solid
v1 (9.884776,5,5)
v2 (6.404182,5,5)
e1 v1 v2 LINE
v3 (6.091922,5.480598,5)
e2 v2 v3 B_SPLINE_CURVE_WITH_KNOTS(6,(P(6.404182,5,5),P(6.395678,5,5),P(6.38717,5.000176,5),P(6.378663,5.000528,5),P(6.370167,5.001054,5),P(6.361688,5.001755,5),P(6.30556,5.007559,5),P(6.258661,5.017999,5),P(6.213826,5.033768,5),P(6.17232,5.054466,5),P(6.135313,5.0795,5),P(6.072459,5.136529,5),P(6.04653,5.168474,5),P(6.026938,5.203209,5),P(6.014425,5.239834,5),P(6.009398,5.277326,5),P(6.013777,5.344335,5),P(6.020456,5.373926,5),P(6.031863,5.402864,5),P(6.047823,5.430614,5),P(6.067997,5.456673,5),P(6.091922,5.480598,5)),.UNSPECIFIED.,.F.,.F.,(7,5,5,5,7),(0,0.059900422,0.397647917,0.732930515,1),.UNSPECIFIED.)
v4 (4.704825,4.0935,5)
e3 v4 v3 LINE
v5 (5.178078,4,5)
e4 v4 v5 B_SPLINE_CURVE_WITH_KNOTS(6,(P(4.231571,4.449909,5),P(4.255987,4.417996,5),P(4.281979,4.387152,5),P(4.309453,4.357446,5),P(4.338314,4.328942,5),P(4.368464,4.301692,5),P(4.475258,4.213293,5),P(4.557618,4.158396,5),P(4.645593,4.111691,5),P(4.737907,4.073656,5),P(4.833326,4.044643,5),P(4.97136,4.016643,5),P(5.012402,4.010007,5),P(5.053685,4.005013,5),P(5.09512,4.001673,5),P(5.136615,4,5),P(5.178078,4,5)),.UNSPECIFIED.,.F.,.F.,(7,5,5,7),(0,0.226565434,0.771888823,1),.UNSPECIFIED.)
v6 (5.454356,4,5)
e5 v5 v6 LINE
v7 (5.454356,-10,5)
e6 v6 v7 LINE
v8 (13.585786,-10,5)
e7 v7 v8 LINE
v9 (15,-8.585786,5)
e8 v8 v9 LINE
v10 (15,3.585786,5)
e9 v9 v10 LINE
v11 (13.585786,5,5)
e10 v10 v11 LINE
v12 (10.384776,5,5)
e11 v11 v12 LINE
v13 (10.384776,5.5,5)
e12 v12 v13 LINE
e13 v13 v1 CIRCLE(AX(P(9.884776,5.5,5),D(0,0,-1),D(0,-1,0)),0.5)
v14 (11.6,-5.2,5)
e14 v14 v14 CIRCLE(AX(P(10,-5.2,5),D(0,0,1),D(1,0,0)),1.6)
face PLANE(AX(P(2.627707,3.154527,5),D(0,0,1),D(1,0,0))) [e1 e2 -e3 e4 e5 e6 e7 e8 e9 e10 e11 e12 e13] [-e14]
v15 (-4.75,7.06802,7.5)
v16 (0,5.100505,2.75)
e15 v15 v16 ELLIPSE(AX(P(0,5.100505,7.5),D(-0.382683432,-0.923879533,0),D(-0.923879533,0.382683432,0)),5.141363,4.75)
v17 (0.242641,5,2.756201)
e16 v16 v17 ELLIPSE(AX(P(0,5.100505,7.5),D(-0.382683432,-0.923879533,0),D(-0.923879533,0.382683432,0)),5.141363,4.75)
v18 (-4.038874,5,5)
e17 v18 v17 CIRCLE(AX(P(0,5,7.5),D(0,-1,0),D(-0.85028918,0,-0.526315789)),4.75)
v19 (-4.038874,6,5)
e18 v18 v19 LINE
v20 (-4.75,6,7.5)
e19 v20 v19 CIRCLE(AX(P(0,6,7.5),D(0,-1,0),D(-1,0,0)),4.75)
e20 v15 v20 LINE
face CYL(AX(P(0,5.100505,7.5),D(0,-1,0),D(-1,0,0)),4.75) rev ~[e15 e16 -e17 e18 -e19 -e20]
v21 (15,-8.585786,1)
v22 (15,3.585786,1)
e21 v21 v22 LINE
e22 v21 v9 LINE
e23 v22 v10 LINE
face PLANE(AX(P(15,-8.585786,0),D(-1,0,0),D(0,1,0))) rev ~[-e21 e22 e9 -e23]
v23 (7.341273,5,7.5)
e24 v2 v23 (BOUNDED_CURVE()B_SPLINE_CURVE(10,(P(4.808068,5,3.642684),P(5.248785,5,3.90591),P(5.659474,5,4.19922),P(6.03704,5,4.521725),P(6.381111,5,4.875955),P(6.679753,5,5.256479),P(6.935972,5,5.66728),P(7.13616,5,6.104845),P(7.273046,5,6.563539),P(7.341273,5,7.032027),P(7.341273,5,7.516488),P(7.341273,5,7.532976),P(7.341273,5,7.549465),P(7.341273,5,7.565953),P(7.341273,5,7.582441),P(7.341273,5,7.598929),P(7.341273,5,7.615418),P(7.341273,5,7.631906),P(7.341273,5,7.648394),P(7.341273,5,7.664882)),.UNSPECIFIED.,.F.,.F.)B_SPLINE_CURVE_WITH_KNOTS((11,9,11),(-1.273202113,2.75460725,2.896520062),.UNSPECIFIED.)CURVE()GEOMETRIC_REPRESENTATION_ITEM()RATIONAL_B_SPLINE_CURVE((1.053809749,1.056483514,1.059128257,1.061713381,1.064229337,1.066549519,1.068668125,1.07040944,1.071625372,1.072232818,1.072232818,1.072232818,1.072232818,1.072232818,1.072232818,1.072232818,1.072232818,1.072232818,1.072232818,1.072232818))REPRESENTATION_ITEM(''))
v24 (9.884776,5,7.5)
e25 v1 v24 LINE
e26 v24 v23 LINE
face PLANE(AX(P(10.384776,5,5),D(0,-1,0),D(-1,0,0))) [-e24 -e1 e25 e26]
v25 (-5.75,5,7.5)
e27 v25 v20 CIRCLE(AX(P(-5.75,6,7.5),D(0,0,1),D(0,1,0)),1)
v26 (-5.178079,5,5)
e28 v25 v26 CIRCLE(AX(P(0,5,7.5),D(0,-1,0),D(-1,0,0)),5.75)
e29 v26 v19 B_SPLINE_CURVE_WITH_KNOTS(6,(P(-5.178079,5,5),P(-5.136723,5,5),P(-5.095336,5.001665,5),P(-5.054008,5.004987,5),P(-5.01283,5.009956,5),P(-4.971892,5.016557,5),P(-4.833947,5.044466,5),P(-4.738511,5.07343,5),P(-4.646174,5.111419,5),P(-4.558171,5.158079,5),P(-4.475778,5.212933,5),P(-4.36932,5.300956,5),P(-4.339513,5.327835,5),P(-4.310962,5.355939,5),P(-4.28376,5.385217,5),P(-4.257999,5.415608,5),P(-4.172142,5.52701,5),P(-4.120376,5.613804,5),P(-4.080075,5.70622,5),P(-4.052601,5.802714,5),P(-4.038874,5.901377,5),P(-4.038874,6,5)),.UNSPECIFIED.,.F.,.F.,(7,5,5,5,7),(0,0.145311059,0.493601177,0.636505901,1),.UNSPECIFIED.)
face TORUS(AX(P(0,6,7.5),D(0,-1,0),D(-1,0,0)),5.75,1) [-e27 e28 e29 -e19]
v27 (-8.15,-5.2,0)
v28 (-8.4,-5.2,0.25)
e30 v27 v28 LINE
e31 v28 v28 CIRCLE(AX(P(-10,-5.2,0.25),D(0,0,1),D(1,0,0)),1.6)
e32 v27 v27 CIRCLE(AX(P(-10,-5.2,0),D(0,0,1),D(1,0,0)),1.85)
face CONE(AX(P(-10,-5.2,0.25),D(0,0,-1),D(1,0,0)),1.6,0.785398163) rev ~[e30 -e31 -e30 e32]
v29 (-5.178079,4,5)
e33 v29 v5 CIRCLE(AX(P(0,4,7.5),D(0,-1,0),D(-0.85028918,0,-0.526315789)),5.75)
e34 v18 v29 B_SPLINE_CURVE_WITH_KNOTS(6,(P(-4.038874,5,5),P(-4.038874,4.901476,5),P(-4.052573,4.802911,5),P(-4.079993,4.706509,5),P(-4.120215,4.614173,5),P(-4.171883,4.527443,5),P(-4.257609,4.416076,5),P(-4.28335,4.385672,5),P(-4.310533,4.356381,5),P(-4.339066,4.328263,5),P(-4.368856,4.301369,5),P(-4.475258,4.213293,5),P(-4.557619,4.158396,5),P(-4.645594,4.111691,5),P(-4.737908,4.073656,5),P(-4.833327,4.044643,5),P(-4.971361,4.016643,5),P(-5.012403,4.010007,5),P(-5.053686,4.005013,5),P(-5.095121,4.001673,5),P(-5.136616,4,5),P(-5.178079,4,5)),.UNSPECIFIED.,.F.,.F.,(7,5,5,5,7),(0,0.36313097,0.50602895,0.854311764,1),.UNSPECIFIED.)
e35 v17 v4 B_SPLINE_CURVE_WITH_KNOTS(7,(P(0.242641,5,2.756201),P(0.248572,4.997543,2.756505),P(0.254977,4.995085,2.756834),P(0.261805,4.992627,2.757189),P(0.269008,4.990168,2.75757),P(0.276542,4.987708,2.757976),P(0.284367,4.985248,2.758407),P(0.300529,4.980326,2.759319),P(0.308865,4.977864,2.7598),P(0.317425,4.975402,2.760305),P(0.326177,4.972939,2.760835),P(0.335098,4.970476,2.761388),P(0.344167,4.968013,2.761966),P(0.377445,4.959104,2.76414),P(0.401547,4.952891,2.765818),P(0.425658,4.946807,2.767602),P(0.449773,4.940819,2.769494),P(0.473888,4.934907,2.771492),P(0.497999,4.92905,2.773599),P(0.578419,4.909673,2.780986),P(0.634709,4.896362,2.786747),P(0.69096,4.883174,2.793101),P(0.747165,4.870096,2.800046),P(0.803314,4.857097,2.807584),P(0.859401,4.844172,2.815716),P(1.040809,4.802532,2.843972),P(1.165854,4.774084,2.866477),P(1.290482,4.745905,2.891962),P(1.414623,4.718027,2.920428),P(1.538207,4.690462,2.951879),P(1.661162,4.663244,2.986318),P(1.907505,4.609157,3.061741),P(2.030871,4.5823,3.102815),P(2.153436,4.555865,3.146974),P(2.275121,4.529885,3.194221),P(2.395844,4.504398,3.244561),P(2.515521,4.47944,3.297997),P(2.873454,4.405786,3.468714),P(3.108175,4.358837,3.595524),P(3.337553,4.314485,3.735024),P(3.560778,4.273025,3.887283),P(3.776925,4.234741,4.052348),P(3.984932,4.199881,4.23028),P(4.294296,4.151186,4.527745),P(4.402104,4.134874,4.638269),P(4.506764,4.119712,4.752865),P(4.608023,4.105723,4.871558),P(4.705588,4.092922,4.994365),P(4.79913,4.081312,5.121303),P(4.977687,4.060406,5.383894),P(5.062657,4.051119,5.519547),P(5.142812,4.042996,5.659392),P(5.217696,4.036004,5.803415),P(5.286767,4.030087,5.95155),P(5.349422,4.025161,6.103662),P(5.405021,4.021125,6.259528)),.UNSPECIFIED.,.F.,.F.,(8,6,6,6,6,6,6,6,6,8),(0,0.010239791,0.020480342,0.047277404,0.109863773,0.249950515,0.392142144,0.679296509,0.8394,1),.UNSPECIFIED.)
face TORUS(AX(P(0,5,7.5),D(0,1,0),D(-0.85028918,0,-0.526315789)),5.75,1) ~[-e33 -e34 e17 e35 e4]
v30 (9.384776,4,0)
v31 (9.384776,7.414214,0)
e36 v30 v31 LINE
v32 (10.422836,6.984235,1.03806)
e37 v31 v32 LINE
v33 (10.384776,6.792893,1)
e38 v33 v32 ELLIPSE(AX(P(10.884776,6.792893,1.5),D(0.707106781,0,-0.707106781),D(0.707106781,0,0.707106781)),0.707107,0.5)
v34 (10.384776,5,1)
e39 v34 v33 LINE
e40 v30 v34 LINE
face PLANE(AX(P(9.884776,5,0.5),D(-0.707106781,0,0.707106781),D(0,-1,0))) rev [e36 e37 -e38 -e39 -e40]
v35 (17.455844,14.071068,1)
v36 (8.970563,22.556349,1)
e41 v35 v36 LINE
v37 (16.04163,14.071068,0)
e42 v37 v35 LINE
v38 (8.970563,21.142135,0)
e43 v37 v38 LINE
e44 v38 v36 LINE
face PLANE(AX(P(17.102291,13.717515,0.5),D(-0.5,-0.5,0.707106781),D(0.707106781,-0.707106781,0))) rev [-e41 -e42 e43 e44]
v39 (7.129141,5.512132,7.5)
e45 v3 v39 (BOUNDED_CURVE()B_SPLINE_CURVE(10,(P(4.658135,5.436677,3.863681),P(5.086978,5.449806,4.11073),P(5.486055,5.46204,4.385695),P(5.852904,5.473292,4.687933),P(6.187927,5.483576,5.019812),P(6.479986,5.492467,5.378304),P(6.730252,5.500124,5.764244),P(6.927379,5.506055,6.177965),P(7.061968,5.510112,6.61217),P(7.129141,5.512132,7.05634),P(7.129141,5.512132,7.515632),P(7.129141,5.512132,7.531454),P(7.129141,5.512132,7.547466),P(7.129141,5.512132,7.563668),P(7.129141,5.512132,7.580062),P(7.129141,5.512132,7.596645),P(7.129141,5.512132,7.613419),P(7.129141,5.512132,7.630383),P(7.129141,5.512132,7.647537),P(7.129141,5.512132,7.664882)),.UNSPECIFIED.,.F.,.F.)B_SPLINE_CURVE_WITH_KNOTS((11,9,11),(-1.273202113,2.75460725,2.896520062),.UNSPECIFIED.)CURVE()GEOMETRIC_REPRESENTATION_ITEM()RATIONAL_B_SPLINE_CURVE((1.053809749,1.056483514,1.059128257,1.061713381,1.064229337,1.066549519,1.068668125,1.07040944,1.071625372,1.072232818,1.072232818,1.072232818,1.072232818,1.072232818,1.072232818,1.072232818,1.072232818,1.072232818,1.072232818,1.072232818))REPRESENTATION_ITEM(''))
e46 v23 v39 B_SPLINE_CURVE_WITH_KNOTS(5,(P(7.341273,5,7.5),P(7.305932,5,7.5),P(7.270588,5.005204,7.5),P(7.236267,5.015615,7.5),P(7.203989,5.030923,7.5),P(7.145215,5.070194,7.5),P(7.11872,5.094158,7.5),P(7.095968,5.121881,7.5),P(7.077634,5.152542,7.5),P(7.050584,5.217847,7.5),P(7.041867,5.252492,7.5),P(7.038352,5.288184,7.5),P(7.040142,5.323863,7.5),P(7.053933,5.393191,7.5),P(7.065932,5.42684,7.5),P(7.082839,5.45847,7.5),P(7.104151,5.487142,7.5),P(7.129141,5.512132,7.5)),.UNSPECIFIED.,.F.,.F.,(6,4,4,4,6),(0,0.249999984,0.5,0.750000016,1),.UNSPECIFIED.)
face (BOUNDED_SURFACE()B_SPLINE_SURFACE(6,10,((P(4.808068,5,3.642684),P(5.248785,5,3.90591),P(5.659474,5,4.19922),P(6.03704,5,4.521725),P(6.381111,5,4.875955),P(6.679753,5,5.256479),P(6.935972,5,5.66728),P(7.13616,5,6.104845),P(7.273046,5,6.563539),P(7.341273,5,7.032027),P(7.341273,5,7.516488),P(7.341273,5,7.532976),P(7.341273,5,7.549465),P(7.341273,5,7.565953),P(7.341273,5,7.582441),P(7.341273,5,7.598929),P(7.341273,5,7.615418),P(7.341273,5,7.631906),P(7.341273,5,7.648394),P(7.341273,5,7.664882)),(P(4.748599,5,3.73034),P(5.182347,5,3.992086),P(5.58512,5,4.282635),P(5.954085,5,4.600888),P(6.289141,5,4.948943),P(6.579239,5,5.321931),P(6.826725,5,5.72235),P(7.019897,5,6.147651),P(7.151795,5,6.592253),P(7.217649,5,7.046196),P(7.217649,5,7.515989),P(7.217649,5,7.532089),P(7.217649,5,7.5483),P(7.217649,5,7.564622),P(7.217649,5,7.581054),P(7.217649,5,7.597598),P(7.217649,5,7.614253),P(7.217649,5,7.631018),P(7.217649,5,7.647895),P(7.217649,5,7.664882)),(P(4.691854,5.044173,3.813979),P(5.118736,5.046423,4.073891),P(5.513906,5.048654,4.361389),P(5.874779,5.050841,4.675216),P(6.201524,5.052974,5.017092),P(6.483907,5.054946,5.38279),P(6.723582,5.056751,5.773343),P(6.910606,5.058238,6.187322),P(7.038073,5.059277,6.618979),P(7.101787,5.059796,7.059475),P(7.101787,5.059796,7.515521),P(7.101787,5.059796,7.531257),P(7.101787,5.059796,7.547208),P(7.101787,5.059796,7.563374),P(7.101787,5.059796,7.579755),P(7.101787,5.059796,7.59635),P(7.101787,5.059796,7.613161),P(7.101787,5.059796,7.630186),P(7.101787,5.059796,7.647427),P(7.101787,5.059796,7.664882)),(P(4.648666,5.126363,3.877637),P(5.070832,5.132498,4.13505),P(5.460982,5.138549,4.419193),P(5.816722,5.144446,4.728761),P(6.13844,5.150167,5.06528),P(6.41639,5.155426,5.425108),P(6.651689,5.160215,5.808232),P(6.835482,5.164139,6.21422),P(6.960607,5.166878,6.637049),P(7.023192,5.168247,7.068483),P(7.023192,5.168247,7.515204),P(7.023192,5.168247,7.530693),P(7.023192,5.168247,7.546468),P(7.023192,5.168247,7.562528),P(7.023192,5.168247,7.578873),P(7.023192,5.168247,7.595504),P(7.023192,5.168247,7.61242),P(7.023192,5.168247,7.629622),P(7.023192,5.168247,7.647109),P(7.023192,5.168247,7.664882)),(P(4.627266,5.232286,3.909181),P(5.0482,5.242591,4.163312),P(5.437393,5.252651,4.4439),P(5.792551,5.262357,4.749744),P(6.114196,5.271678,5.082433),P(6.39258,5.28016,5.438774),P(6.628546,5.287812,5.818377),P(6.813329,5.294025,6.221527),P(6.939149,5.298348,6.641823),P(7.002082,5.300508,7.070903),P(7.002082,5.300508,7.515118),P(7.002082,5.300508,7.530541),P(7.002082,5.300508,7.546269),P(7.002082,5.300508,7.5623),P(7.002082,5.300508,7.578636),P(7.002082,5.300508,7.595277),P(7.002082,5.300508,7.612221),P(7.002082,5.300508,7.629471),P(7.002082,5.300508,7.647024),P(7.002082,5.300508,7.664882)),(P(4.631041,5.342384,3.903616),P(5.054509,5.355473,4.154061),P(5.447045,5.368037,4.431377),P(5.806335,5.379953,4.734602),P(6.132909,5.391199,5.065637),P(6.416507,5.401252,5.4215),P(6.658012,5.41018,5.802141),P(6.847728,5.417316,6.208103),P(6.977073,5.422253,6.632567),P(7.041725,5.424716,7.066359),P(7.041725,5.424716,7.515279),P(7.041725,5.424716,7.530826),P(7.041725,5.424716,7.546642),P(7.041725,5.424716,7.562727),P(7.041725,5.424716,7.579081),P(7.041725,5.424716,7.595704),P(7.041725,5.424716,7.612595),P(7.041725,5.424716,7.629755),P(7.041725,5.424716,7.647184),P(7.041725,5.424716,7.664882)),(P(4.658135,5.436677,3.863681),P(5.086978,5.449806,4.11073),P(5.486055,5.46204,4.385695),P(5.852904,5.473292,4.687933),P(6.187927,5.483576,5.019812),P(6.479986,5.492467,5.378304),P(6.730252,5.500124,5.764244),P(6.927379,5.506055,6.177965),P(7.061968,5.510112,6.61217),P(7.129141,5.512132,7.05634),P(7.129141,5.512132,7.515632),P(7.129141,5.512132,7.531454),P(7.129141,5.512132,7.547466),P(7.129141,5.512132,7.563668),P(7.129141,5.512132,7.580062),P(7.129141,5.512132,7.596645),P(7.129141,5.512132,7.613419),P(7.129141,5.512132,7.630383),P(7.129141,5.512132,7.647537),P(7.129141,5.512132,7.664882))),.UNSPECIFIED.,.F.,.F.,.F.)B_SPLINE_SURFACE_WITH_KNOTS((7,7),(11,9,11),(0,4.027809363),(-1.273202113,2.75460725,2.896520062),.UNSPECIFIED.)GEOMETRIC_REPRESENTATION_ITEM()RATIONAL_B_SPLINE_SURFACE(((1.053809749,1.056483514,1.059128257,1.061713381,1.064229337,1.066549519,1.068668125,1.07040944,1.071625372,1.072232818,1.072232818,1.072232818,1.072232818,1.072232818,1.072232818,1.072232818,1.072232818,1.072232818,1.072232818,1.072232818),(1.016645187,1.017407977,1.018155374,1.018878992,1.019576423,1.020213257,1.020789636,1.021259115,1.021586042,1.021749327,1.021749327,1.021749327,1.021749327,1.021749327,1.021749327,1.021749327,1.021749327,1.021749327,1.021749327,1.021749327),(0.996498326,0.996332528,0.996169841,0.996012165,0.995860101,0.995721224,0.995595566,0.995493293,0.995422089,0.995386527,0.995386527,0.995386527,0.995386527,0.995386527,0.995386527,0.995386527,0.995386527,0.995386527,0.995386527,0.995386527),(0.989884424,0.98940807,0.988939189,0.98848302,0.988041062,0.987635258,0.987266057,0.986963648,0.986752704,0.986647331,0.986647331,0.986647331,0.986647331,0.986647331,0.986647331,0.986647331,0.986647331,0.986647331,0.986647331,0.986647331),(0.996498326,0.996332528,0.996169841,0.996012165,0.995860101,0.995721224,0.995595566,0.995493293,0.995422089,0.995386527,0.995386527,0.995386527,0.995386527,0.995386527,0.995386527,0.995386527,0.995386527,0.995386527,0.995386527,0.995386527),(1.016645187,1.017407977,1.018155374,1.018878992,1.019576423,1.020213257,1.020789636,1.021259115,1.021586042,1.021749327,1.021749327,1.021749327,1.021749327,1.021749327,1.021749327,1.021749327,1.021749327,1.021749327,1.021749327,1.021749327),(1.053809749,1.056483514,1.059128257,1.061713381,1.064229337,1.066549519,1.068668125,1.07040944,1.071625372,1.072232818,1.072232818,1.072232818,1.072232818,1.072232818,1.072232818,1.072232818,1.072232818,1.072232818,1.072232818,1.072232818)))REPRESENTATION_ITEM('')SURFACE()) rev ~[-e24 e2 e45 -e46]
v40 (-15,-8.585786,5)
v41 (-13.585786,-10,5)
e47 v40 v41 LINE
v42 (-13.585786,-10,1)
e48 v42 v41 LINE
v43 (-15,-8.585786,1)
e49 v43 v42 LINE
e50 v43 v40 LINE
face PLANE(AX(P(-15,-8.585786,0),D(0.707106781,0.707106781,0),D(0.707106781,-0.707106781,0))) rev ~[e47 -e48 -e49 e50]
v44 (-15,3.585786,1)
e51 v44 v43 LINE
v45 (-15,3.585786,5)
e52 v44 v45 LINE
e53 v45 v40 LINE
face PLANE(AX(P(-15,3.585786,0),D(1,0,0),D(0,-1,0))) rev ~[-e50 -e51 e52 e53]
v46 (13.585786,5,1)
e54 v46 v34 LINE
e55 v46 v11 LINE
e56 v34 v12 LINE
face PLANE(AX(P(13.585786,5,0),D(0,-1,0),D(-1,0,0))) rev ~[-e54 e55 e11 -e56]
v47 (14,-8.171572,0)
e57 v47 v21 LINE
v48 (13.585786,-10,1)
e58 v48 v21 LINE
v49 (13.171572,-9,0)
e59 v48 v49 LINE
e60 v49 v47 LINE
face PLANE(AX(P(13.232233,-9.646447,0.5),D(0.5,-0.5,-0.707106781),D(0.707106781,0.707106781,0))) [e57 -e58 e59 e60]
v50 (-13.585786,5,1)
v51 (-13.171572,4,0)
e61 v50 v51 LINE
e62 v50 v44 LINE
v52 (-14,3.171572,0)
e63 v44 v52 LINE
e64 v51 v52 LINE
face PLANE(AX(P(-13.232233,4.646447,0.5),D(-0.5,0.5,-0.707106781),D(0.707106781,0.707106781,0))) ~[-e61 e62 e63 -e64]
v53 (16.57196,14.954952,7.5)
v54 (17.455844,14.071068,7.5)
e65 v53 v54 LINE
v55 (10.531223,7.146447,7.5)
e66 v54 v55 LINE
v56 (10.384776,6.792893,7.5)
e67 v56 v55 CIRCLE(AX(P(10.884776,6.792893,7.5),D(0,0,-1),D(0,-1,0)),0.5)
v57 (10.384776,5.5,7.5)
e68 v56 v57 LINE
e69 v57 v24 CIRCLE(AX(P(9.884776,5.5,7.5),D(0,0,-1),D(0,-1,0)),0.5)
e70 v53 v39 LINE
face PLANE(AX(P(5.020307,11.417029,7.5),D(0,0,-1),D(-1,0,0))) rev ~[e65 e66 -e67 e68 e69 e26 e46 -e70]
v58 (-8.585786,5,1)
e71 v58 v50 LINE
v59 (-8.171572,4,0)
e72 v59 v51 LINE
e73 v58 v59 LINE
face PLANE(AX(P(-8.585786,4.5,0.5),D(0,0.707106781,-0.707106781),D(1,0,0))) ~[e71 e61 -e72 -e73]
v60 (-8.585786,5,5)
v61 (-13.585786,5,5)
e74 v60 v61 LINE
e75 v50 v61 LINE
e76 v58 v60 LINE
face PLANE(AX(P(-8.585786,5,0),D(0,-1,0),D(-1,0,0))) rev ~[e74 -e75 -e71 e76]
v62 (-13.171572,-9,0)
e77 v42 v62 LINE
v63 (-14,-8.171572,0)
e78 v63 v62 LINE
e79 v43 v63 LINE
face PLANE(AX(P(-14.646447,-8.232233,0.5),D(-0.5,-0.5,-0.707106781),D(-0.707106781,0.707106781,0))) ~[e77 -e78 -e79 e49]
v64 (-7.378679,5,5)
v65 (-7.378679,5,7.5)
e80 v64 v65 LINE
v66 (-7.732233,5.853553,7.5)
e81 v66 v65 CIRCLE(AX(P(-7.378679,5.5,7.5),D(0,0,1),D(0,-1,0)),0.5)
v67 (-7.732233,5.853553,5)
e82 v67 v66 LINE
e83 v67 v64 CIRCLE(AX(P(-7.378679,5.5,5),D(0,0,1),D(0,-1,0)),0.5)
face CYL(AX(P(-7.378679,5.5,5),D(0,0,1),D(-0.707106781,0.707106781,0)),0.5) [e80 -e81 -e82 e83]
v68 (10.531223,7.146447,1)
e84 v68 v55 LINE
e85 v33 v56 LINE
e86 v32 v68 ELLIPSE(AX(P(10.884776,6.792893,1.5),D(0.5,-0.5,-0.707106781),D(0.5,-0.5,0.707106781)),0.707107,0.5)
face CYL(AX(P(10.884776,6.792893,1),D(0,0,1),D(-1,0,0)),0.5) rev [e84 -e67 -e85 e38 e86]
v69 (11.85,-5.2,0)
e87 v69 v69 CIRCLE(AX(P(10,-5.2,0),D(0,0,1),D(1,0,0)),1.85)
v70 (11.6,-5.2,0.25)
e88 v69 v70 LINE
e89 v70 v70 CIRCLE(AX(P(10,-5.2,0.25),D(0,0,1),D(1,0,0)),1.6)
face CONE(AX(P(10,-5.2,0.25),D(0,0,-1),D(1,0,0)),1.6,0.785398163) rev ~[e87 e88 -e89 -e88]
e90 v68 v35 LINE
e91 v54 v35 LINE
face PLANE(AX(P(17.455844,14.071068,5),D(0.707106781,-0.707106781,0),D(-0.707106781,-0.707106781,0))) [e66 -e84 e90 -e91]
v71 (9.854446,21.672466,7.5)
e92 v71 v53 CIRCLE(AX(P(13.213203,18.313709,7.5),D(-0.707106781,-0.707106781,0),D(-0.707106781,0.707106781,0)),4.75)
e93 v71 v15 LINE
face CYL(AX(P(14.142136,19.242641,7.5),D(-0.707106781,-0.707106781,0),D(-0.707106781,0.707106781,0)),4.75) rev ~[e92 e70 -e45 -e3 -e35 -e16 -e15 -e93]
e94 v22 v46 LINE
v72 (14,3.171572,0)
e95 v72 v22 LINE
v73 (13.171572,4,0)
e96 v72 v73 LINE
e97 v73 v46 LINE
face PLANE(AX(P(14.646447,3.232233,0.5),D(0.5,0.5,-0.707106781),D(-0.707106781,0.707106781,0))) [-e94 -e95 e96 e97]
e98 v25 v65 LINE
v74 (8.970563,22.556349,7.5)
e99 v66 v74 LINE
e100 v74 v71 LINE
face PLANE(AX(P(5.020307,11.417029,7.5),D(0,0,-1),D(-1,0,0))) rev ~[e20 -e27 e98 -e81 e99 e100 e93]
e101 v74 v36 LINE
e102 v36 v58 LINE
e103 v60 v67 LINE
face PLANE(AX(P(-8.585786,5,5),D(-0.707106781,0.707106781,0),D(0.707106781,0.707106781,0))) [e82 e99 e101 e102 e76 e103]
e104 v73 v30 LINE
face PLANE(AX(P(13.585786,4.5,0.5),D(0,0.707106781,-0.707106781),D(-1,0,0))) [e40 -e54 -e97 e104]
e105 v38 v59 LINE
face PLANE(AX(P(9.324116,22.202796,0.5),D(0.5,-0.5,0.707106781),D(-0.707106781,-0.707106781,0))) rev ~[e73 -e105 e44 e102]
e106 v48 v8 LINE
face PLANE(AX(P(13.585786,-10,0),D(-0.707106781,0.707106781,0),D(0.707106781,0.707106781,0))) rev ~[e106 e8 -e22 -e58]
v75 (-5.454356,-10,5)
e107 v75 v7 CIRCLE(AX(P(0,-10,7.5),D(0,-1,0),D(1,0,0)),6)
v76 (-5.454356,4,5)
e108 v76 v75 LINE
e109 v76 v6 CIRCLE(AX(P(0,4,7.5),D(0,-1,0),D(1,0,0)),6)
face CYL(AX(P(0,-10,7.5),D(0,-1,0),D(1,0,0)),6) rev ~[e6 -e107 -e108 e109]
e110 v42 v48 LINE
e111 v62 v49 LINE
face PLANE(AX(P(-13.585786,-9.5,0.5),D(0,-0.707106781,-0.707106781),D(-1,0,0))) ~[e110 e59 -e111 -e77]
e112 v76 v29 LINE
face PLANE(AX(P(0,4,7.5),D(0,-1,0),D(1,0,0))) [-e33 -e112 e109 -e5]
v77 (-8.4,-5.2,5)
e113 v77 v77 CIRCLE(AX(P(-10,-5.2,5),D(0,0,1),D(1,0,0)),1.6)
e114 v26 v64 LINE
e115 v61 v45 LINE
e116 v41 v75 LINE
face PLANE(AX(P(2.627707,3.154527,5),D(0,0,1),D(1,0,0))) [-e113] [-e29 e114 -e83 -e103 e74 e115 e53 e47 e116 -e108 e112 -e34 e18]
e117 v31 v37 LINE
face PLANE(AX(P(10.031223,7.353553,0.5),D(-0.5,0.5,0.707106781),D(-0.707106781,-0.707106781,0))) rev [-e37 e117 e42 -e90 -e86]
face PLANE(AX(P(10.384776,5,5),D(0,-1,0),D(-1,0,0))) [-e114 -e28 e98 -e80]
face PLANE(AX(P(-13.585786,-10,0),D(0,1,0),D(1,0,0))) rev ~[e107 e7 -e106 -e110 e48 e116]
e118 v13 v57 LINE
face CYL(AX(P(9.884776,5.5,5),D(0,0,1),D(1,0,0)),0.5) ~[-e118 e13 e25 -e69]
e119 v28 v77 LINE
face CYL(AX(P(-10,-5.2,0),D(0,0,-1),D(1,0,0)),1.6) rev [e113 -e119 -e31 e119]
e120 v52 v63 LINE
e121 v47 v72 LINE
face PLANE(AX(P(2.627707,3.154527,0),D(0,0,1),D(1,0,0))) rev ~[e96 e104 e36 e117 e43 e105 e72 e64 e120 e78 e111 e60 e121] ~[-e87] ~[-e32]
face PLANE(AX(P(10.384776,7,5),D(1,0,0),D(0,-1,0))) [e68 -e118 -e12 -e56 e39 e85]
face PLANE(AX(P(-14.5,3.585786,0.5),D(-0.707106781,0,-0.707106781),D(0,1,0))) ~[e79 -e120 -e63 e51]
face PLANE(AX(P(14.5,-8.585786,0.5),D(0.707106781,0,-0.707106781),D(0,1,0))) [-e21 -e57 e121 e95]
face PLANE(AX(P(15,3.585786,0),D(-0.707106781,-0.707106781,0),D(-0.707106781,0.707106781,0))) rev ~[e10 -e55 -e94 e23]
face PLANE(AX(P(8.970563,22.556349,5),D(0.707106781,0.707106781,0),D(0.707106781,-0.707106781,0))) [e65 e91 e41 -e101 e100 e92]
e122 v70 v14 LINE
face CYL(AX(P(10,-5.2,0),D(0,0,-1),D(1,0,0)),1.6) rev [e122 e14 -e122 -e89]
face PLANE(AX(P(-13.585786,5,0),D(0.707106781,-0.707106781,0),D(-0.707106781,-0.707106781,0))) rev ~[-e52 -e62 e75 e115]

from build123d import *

# Parameters (mm, degrees)
SKETCH002_R     = 4.75
SKETCH_R        = 1.6
PAD_DEPTH       = 5
PAD001_DEPTH    = 2.5
SKETCH004_R     = 6
POCKET_DEPTH    = 14
FILLET_R        = 1
FILLET001_R     = 1
CHAMFER_SIZE    = 1
CHAMFER001_SIZE = 0.25
FILLET002_R     = 0.5
FILLET003_R     = 0.3


with BuildPart() as sweep_body:
    # Sweep: sweep along a path in Sketch003
    with BuildLine(Plane.XY.offset(7.5)) as sweep_path:
        Line((14.142136, 19.242641), (0, 5.100505))
        Line((0, 5.100505), (0, -5.899495))
    # Sketch002 → Sweep (sweep)
    with BuildSketch(Plane(origin=(15.763456, 15.763456, 0), x_dir=(-0.707107, 0.707107, 0), z_dir=(0.707107, 0.707107, 0))):
        with Locations((3.606602, 7.5)):
            Circle(SKETCH002_R)
    sweep(path=sweep_path.line, transition=Transition.RIGHT)


with BuildPart() as fillet003:
    # Sketch → Pad (new body)
    with BuildSketch(Plane.XY):
        Polygon((-15, 3.585786), (-15, -8.585786), (-13.585786, -10), (13.585786, -10), (15, -8.585786), (15, 3.585786), (13.585786, 5), (10.384776, 5), (10.384776, 7), (17.455844, 14.071068), (8.970563, 22.556349), (-8.585786, 5), (-13.585786, 5), align=None)
        with Locations((-10, -5.2)):
            Circle(SKETCH_R, mode=Mode.SUBTRACT)
        with Locations((10, -5.2)):
            Circle(SKETCH_R, mode=Mode.SUBTRACT)
    extrude(amount=PAD_DEPTH)

    # Sketch001 → Pad001 (new body)
    with BuildSketch(Plane.XY.offset(5)):
        Polygon((-8.585786, 5), (8.970563, 22.556349), (17.455844, 14.071068), (10.384776, 7), (10.384776, 5), align=None)
    extrude(amount=PAD001_DEPTH)

    # Cut: cut Sweep body
    add(sweep_body.part, mode=Mode.SUBTRACT)

    # Sketch004 → Pocket (cut)
    with BuildSketch(Plane.XZ.offset(10)):
        with Locations((0, 7.5)):
            Circle(SKETCH004_R)
    extrude(amount=-POCKET_DEPTH, mode=Mode.SUBTRACT)

    # Fillet
    fillet_edges = [fillet003.edges().sort_by_distance(p)[0] for p in [
        (-0.997031, 4, 2.855818),
    ]]
    fillet(fillet_edges, radius=FILLET_R)

    # Fillet001
    fillet001_edges = [fillet003.edges().sort_by_distance(p)[0] for p in [
        (-4.568761, 5, 6.200413),
    ]]
    fillet(fillet001_edges, radius=FILLET001_R)

    # Chamfer
    chamfer_edges = [fillet003.edges().sort_by_distance(p)[0] for p in [
        (0, -10, 0),
        (14.292893, -9.292893, 0),
        (15, -2.5, 0),
        (11.985281, 5, 0),
        (14.292893, 4.292893, 0),
        (10.384776, 6, 0),
        (13.92031, 10.535534, 0),
        (13.213203, 18.313708, 0),
        (0.192388, 13.778175, 0),
        (-11.085786, 5, 0),
        (-14.292893, 4.292893, 0),
        (-15, -2.5, 0),
        (-14.292893, -9.292893, 0),
    ]]
    chamfer(chamfer_edges, length=CHAMFER_SIZE)

    # Chamfer001
    chamfer001_edges = [fillet003.edges().sort_by_distance(p)[0] for p in [
        (-11.6, -5.2, 0),
        (8.4, -5.2, 0),
    ]]
    chamfer(chamfer001_edges, length=CHAMFER001_SIZE)

    # Fillet002
    fillet002_edges = [fillet003.edges().sort_by_distance(p)[0] for p in [
        (10.384776, 5, 6.25),
        (10.384776, 7, 4.25),
        (-8.585786, 5, 6.25),
    ]]
    fillet(fillet002_edges, radius=FILLET002_R)

    # Fillet003
    fillet003_edges = [fillet003.edges().sort_by_distance(p)[0] for p in [
        (6.343838, 5, 6.159209),
    ]]
    fillet(fillet003_edges, radius=FILLET003_R)


solid = fillet003.part
